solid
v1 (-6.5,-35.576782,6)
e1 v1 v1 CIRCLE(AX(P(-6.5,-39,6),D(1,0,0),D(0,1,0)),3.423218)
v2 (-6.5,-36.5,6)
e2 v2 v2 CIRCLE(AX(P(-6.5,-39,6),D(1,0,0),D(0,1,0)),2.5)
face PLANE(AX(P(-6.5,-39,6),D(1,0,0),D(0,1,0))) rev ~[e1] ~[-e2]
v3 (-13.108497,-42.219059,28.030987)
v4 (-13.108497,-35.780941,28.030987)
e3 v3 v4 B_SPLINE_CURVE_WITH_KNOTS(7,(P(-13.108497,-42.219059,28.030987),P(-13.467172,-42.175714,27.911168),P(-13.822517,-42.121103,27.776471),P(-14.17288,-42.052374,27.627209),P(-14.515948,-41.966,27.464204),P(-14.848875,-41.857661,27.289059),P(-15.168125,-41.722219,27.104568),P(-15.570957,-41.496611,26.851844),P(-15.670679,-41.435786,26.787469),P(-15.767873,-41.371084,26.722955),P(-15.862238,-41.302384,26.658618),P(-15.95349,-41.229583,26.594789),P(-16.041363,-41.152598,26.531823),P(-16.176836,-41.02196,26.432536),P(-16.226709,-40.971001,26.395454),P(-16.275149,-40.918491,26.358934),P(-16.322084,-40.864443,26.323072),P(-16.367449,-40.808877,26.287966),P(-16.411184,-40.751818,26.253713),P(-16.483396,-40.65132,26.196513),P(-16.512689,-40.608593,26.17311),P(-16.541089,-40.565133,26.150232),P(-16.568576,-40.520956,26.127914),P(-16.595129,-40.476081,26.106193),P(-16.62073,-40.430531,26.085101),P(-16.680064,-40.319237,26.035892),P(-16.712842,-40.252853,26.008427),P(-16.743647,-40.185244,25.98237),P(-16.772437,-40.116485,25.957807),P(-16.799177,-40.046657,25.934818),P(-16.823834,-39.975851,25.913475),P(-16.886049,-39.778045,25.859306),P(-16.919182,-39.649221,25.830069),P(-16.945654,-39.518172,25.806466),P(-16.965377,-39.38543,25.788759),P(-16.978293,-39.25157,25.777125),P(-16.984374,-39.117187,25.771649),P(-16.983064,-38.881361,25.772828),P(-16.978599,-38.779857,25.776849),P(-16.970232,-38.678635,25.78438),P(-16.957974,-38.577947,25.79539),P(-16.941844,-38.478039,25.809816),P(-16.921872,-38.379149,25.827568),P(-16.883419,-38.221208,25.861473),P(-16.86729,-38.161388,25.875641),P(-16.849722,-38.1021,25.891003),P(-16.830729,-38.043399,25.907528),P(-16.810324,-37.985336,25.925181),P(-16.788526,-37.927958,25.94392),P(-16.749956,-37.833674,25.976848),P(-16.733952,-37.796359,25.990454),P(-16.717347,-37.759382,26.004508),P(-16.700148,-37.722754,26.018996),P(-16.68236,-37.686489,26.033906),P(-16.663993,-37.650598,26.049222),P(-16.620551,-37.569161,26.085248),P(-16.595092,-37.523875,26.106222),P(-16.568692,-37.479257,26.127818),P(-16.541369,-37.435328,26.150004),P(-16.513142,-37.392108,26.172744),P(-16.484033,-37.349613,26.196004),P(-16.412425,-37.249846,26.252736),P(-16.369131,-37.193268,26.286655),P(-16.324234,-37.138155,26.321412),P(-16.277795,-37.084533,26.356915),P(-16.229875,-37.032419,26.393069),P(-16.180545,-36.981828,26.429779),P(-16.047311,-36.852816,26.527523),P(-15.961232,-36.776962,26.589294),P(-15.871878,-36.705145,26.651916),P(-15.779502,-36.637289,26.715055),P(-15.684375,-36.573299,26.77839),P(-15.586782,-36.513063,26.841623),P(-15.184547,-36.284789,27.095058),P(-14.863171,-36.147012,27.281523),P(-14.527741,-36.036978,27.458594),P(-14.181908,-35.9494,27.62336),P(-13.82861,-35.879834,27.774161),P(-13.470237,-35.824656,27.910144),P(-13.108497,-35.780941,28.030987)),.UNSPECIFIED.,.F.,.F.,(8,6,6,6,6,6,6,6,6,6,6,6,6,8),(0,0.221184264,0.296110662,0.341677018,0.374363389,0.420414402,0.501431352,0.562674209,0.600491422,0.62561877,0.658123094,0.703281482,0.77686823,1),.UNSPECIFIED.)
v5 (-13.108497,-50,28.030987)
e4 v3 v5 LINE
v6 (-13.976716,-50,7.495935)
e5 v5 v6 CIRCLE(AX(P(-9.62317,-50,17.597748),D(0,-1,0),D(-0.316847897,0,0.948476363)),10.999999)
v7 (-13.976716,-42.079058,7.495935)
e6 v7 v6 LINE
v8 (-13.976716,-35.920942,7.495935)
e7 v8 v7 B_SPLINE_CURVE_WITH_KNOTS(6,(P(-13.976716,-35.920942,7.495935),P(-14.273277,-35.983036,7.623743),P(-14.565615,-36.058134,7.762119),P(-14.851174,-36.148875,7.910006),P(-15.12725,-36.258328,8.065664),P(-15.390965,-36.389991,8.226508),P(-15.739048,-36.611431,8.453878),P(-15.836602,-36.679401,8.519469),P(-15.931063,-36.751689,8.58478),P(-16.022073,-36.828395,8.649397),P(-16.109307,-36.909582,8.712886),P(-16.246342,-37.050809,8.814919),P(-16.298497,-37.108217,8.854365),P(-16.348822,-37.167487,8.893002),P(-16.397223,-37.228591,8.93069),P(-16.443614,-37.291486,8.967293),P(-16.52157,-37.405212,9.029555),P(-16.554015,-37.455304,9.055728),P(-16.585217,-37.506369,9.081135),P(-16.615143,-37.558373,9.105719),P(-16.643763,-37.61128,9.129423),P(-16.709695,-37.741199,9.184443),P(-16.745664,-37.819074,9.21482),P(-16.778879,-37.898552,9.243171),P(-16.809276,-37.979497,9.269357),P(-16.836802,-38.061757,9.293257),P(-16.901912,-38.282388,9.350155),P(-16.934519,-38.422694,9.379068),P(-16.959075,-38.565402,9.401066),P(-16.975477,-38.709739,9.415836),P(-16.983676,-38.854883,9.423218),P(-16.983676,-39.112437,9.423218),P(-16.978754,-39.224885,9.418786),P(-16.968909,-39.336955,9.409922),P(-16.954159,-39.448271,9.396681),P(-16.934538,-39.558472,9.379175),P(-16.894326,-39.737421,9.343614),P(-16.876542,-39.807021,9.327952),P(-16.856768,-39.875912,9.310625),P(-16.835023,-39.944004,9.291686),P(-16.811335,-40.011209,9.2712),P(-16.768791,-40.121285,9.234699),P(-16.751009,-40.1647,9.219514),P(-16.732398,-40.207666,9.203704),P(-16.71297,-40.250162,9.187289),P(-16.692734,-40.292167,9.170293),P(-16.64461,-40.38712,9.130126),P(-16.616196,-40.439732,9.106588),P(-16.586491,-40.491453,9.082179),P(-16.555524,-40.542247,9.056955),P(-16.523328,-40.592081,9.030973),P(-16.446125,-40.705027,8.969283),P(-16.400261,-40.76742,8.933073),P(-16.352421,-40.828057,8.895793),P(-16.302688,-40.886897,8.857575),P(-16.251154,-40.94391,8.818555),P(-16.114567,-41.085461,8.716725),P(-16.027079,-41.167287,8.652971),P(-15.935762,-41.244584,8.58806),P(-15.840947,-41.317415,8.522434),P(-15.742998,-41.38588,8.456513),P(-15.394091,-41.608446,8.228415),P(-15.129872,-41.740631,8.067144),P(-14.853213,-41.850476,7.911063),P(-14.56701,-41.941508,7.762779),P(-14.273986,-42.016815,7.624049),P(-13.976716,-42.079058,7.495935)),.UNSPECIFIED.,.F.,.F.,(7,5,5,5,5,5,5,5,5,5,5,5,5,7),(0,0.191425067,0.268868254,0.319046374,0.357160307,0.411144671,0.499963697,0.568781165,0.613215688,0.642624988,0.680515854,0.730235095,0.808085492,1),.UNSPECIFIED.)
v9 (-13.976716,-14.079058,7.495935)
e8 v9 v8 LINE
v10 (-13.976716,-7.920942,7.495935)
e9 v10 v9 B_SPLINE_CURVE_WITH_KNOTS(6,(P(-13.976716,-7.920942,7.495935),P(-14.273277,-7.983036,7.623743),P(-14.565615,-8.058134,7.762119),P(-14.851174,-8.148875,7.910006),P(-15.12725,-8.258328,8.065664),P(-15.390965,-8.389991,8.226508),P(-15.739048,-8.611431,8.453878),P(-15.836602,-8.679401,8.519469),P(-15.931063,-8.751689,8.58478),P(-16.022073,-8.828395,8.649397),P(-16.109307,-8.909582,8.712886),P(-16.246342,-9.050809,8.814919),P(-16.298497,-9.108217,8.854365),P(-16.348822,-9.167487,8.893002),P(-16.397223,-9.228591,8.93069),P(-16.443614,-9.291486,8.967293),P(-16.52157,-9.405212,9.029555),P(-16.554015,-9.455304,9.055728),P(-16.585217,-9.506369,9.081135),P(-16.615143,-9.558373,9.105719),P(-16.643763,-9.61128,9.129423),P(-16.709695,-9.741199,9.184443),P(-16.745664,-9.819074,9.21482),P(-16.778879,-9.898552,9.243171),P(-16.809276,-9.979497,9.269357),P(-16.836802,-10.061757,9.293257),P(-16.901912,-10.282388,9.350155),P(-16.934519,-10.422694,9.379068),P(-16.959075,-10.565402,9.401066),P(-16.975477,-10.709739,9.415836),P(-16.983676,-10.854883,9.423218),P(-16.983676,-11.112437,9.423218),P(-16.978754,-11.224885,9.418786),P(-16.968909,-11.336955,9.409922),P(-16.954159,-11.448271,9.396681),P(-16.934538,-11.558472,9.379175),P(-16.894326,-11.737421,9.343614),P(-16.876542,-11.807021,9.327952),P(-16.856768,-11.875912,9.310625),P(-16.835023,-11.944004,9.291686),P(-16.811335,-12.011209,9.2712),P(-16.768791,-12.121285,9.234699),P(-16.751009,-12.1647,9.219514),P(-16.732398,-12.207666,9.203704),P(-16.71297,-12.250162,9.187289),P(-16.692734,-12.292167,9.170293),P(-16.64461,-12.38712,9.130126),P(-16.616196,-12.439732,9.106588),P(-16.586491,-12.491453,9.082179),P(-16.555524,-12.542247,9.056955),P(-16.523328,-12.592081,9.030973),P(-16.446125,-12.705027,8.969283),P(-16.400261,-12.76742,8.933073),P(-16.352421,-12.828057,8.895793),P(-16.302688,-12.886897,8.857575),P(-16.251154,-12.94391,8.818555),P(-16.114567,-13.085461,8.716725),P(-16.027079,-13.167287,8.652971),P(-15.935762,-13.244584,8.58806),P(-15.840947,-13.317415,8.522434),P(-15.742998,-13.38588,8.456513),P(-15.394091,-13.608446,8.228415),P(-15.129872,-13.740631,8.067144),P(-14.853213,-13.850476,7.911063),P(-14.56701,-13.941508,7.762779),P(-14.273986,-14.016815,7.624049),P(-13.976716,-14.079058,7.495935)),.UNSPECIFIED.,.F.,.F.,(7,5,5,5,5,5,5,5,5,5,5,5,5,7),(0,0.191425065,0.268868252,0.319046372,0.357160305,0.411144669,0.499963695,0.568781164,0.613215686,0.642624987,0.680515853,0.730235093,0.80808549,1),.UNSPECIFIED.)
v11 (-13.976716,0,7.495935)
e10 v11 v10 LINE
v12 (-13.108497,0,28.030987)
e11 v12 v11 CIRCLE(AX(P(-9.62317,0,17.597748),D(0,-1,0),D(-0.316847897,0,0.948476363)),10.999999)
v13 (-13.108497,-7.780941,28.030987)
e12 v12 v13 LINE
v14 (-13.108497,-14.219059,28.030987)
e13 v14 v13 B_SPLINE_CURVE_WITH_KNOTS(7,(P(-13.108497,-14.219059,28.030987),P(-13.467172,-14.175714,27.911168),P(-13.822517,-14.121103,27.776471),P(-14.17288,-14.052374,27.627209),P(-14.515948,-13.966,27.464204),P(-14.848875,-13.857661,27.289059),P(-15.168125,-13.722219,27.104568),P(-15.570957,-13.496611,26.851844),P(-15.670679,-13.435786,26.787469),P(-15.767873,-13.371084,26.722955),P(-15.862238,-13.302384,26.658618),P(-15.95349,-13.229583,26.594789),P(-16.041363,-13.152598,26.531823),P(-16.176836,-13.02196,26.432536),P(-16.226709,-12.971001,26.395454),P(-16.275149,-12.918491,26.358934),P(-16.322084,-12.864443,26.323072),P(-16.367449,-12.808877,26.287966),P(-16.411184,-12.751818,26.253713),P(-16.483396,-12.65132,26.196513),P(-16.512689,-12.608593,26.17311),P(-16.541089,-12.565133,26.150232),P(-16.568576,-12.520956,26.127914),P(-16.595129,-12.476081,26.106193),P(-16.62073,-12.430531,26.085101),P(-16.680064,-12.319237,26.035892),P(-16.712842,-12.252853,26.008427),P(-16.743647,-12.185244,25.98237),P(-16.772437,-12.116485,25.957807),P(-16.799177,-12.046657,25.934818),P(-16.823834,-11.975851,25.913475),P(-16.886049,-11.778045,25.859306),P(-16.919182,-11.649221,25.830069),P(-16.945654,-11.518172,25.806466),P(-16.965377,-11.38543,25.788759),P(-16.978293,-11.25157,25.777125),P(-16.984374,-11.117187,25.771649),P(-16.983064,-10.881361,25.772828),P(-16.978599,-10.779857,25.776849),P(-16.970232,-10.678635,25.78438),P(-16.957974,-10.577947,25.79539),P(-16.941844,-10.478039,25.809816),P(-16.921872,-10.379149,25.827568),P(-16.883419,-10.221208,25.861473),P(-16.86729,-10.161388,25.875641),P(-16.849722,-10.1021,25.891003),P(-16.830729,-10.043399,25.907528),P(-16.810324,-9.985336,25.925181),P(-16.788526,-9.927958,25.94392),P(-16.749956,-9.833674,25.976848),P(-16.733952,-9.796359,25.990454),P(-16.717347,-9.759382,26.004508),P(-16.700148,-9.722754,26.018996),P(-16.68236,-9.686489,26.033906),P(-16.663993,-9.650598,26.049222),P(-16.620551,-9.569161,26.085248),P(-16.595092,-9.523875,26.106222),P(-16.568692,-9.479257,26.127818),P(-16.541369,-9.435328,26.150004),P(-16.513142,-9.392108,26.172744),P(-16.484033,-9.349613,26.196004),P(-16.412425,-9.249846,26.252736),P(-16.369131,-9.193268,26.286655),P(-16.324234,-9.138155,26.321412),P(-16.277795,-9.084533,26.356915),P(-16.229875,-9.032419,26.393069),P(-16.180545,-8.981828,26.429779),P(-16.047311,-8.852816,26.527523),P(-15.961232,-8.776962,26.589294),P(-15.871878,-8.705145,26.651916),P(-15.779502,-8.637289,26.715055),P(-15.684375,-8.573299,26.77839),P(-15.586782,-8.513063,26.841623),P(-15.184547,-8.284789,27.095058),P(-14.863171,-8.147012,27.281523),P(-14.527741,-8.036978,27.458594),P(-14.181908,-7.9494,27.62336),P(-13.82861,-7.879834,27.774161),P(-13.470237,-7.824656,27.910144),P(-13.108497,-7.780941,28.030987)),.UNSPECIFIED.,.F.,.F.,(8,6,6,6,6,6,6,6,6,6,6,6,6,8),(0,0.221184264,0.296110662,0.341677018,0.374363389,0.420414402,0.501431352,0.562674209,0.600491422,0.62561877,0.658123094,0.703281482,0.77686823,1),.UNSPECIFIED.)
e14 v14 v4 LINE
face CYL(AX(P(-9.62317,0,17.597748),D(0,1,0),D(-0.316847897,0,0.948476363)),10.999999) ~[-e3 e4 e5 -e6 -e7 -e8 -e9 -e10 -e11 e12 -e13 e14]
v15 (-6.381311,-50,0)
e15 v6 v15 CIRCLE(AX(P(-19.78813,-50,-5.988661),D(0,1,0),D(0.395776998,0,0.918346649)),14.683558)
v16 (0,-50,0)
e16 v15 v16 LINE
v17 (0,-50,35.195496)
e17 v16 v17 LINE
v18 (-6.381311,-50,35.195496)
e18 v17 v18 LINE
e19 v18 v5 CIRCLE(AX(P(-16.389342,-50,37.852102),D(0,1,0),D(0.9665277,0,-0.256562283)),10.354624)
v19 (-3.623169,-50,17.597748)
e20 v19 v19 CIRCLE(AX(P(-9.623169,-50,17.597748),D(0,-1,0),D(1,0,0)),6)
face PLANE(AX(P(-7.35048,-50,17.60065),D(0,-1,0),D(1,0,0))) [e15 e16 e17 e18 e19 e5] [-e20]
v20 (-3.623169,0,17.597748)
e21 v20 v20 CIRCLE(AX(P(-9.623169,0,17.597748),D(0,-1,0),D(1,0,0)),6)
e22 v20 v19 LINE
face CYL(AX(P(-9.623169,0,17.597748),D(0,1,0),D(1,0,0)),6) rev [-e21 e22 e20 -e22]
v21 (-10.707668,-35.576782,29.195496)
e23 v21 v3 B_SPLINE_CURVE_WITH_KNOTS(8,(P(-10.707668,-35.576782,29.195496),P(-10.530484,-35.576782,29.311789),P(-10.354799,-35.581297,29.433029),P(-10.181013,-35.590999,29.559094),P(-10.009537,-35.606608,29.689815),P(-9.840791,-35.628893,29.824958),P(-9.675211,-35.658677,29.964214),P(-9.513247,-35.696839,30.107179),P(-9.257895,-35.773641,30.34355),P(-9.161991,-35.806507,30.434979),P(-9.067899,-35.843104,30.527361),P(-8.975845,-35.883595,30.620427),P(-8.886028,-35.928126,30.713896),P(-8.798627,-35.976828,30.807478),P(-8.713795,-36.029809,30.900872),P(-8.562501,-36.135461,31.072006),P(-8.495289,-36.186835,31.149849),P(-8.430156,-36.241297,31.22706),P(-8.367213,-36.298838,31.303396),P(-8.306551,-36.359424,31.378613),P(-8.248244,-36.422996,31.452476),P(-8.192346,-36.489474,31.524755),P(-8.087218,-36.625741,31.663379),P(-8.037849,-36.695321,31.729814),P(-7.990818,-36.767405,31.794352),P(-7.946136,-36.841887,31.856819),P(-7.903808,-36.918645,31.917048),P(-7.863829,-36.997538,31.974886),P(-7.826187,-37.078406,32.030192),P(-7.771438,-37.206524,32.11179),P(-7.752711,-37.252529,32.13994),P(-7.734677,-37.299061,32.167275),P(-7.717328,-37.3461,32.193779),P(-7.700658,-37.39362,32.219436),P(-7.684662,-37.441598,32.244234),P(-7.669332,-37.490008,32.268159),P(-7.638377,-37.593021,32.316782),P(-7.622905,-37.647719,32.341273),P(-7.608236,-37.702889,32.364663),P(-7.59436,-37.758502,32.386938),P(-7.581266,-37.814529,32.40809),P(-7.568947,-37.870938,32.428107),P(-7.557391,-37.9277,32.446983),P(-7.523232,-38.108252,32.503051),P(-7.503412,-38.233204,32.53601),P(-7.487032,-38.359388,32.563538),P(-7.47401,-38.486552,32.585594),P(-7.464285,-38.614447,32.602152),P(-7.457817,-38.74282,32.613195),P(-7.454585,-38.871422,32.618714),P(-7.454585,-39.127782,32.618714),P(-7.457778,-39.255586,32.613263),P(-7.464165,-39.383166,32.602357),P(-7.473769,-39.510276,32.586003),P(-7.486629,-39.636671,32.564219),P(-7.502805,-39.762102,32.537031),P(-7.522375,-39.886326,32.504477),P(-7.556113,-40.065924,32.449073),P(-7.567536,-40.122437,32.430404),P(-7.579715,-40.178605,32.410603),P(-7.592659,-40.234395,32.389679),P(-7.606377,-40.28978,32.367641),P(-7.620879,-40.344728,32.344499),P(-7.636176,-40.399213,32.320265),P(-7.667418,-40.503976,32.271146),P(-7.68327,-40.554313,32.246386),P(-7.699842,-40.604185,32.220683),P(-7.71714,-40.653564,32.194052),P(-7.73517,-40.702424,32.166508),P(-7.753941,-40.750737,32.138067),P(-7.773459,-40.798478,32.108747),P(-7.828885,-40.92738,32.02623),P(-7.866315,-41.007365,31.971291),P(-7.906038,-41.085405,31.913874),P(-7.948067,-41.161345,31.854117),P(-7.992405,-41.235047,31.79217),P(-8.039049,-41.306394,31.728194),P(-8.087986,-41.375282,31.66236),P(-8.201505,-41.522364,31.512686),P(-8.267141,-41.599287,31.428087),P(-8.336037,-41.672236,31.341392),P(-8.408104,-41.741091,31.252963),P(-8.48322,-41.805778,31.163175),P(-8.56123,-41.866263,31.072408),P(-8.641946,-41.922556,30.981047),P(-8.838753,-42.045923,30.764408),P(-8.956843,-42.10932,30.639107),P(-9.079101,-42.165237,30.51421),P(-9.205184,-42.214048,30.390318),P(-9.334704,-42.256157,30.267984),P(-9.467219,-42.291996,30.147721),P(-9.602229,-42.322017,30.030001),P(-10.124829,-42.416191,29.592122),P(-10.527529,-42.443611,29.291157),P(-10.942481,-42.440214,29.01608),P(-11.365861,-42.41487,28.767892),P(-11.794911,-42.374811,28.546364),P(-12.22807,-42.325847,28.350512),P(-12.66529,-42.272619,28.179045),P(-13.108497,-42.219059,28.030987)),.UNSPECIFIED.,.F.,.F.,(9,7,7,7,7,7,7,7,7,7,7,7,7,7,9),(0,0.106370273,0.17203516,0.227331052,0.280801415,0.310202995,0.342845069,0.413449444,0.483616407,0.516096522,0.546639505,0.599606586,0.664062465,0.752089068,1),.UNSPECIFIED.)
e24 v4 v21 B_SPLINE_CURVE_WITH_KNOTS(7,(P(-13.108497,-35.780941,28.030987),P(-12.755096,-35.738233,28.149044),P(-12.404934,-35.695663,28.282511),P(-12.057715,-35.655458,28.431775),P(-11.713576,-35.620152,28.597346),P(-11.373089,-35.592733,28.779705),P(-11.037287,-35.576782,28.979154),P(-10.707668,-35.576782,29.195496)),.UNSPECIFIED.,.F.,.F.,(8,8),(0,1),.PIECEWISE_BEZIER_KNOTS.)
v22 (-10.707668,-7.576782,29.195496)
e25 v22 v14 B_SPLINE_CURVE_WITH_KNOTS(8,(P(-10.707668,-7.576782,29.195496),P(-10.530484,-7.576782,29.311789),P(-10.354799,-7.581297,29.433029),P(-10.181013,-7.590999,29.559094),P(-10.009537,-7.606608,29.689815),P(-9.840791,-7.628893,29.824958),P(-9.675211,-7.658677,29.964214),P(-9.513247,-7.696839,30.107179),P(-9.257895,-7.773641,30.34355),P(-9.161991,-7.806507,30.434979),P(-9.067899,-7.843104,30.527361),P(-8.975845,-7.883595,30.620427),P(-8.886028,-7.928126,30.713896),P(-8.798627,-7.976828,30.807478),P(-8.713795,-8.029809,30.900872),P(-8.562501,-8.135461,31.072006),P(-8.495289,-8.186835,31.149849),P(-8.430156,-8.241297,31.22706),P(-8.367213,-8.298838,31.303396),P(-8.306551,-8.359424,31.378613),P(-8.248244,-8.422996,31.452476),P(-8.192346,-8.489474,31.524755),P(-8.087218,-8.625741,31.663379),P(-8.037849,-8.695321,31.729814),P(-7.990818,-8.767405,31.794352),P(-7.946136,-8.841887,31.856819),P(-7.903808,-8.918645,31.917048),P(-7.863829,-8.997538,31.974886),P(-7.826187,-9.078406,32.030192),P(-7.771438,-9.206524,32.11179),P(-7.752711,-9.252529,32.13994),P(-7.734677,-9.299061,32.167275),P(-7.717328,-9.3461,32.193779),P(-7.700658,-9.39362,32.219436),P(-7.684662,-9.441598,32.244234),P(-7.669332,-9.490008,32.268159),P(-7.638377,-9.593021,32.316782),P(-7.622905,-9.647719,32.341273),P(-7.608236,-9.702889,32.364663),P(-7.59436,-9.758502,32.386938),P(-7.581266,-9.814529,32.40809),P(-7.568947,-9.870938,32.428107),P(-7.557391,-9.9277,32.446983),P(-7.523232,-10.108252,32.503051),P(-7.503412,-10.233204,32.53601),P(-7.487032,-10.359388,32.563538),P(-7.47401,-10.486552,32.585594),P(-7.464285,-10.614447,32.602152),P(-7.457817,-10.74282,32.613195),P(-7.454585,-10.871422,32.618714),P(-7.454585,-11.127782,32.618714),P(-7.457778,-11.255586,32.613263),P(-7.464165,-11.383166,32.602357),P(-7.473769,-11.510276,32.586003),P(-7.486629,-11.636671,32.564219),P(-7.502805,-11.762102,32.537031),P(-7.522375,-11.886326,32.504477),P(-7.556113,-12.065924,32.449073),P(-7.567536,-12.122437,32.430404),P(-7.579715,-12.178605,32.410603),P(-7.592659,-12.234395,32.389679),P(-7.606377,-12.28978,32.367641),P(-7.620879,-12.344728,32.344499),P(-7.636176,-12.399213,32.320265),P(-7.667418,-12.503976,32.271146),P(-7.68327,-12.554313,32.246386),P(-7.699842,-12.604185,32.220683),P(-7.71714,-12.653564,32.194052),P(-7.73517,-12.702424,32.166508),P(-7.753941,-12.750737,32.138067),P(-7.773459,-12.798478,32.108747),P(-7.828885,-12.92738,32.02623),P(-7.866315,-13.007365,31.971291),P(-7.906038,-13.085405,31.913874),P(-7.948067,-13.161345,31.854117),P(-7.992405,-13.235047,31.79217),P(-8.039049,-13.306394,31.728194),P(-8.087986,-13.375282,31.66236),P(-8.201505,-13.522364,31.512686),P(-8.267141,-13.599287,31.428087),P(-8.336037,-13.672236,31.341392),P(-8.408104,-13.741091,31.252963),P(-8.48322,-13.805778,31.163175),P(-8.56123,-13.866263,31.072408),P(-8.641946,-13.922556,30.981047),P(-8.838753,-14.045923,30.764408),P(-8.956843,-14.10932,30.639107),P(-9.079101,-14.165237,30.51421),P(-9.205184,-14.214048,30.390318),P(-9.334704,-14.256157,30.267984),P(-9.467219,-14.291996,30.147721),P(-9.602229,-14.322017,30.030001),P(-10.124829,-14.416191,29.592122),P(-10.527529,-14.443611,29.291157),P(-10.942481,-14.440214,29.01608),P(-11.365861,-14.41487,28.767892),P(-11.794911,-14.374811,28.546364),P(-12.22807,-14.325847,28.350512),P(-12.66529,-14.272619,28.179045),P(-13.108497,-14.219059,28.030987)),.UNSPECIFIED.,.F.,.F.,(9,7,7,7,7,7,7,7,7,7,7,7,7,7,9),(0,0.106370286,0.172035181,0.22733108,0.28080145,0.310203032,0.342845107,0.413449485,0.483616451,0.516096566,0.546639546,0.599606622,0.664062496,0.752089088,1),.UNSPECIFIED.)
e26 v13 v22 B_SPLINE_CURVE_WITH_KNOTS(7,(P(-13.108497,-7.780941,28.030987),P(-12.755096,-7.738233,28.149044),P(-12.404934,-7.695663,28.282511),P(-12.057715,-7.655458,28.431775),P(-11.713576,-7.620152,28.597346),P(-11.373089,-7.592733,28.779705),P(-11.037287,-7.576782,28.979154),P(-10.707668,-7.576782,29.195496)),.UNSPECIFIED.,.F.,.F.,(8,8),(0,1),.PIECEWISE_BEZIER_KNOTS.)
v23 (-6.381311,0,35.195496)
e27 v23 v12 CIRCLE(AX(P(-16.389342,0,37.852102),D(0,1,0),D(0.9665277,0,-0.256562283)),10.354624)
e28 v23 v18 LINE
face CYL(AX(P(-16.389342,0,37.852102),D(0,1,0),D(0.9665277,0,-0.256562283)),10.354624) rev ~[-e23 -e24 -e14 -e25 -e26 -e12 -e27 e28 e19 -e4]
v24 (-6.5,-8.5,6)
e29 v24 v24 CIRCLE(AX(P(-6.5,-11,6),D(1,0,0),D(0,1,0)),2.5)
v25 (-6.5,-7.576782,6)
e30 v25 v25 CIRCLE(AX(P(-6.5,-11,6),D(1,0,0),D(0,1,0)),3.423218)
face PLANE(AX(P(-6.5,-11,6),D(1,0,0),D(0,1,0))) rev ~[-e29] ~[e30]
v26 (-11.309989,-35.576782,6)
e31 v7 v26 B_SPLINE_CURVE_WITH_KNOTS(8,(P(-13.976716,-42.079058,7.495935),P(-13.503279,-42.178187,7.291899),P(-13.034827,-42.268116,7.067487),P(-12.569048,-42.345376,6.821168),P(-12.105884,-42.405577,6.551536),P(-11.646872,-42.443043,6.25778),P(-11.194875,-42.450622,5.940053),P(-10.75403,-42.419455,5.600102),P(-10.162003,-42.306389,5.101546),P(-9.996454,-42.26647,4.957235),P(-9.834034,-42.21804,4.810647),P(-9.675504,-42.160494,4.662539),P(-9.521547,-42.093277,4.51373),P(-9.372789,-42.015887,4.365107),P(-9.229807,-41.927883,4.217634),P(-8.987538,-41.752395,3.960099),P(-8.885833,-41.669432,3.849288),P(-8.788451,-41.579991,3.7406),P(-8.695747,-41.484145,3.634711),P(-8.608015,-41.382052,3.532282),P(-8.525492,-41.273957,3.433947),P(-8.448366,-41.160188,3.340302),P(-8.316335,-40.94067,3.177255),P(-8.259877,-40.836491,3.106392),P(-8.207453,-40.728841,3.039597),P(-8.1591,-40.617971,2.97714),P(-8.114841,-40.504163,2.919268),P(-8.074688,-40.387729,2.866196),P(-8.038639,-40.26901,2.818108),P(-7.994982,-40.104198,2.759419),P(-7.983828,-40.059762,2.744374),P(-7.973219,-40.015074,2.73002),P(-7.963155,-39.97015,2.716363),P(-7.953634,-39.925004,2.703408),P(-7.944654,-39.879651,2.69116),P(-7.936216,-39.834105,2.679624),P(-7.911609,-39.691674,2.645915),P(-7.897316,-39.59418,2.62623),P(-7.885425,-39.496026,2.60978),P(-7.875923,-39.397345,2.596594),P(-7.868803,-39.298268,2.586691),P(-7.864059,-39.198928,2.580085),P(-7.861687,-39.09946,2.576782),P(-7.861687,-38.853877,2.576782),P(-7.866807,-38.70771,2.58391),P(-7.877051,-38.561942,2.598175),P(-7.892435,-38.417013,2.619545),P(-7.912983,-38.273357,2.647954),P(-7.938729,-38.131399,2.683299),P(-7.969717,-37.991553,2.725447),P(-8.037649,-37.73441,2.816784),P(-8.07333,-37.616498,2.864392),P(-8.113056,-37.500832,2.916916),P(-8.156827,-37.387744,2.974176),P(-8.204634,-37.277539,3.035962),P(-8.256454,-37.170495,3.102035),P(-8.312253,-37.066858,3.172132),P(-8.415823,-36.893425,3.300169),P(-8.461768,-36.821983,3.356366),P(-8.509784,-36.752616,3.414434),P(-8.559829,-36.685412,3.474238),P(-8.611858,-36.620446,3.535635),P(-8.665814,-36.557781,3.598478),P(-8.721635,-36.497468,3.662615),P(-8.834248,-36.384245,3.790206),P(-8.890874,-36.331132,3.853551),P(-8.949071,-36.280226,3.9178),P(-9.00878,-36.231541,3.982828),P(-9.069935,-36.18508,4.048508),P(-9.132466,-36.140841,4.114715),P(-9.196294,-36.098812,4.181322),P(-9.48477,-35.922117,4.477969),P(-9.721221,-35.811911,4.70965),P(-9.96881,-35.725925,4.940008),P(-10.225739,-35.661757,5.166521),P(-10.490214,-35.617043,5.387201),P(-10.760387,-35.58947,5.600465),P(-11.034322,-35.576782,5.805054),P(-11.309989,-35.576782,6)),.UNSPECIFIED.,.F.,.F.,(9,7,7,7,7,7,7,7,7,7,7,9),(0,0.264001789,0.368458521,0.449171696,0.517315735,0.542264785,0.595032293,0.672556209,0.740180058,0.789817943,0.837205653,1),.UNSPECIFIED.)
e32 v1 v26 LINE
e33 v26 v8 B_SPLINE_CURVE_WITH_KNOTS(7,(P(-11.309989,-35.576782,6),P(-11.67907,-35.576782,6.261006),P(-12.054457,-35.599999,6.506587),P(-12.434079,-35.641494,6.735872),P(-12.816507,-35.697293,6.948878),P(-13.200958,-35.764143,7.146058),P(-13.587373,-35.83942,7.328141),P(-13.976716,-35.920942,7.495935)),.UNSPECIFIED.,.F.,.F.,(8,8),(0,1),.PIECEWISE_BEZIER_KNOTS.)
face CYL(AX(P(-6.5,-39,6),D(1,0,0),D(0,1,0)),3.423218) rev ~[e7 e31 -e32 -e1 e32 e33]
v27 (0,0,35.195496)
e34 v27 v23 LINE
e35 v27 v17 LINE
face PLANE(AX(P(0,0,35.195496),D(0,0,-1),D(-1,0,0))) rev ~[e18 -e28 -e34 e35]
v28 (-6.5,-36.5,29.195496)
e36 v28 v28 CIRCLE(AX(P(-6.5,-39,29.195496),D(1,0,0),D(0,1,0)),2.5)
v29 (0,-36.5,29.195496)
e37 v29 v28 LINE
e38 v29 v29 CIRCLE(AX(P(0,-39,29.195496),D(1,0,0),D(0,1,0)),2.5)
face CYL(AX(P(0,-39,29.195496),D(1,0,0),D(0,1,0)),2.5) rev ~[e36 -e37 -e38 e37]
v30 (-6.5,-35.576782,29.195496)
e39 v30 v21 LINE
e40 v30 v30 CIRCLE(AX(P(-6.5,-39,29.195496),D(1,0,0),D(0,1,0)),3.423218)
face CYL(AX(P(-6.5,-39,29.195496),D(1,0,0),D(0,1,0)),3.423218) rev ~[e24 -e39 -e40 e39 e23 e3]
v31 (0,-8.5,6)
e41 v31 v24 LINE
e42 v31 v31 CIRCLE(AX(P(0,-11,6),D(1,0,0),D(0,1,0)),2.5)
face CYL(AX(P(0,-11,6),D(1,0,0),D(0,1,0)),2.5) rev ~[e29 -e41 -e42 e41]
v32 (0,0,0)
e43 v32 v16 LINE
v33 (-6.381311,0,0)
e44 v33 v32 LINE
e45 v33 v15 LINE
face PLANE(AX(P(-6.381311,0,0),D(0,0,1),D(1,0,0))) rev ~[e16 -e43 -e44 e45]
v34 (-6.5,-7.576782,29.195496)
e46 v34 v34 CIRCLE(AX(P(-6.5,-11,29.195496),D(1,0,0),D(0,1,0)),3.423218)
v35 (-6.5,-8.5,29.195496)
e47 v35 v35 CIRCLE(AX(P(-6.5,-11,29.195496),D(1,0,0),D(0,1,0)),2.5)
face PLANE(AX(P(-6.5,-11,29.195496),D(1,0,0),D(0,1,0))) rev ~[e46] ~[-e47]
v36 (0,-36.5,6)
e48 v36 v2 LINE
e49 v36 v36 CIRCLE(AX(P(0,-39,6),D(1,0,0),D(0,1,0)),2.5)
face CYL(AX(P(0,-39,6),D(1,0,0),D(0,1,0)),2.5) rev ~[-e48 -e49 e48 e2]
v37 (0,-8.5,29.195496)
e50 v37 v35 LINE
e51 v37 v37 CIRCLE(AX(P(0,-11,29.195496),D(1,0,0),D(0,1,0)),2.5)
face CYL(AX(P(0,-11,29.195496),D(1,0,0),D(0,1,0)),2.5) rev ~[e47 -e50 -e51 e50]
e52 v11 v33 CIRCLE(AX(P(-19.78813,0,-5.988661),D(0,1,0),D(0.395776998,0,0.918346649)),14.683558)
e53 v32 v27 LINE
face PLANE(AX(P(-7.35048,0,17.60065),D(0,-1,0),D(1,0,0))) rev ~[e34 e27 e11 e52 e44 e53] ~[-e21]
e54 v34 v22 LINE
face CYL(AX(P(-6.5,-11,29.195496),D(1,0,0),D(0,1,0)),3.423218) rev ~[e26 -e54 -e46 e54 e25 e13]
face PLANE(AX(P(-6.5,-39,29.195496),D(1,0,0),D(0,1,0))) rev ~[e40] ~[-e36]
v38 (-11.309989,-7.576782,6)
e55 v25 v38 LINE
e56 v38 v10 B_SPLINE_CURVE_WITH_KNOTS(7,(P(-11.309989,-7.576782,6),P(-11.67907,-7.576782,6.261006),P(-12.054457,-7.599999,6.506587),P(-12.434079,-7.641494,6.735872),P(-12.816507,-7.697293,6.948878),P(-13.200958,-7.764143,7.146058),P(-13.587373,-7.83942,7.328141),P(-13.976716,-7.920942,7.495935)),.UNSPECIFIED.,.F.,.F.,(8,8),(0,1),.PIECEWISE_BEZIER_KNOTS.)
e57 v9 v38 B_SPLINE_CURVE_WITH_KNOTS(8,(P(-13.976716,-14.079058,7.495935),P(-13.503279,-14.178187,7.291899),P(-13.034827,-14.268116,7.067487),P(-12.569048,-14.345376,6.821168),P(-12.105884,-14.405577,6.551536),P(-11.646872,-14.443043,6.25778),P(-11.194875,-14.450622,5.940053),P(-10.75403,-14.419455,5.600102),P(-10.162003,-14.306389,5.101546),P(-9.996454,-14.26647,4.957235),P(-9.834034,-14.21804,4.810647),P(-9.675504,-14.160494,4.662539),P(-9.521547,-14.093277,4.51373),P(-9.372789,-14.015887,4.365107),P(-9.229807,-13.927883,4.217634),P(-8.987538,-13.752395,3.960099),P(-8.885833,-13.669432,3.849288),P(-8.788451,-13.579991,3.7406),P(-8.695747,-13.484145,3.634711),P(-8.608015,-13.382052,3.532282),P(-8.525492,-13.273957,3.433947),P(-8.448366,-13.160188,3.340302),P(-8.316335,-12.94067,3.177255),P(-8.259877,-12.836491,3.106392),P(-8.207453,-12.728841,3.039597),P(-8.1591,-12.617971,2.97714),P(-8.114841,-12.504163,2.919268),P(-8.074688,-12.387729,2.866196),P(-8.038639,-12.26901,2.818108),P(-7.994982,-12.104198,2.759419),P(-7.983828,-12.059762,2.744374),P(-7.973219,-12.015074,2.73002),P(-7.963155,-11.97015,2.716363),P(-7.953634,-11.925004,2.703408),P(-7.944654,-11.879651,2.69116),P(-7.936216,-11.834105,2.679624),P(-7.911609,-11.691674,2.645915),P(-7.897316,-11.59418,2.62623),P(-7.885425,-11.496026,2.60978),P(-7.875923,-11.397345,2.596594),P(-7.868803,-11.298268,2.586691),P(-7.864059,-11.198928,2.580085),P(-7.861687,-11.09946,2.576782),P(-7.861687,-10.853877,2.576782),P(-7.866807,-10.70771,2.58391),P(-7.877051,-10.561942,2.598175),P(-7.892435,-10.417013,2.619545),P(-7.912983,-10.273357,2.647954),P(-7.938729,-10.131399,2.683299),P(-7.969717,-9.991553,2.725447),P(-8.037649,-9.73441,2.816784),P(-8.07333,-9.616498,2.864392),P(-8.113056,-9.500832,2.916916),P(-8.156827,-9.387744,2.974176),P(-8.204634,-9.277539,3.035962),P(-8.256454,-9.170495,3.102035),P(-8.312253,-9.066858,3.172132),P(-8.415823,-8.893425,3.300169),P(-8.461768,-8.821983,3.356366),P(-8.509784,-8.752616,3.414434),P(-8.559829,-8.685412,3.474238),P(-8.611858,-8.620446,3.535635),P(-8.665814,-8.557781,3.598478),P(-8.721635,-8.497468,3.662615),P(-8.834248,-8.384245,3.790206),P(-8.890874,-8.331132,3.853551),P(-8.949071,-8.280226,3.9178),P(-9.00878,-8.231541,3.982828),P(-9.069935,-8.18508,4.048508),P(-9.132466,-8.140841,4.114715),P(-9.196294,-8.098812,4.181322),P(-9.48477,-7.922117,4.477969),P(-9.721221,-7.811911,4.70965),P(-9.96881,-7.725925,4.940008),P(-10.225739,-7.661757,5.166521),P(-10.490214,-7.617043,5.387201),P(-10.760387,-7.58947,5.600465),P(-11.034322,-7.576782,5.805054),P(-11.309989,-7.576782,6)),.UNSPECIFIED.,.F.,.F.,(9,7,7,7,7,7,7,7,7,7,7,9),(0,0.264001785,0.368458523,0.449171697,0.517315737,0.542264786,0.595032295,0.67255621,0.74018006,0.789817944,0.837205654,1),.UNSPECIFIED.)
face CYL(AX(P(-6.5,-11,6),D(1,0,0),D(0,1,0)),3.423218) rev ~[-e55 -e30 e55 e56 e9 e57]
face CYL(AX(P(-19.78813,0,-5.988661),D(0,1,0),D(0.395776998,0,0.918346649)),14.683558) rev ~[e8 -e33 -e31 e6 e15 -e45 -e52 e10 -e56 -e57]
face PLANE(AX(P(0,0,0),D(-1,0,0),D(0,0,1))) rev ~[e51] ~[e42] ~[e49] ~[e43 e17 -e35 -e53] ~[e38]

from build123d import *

# Parameters (mm, degrees)
F0_R     = 6
F1_DEPTH = 50
F2_R     = 2.5
F3_DEPTH = 25
F5_R     = 3.423218
F6_DEPTH = 25


with BuildPart() as f1:
    # F0 (on Front) → F1 (new body)
    with BuildSketch(Plane.XZ):
        with BuildLine():
            Line((0, 0), (0, 35.195496))
            Line((0, 35.195496), (-6.381311, 35.195496))
            ThreePointArc((-6.381311, 35.195496), (-8.840759, 30.764286), (-13.108497, 28.030987))
            ThreePointArc((-13.108497, 28.030987), (-20.613351, 18.062411), (-13.976716, 7.495935))
            ThreePointArc((-13.976716, 7.495935), (-9.473946, 4.46239), (-6.381311, 0))
            Line((-6.381311, 0), (0, 0))
        make_face()
        with Locations((-9.623169, 17.597748)):
            Circle(F0_R, mode=Mode.SUBTRACT)
    extrude(amount=F1_DEPTH)

    # F2 (on face) → F3 (cut)
    with BuildSketch(Plane.YZ):
        with Locations((-39, 29.195496)):
            Circle(F2_R)
        with Locations((-11, 29.195496)):
            Circle(F2_R)
        with Locations((-39, 6)):
            Circle(F2_R)
        with Locations((-11, 6)):
            Circle(F2_R)
    extrude(amount=-F3_DEPTH, mode=Mode.SUBTRACT)

    # F5 (on offset) → F6 (cut)
    with BuildSketch(Plane.YZ.offset(-6.5)):
        with Locations((-11, 6)):
            Circle(F5_R)
        with Locations((-39, 6)):
            Circle(F5_R)
        with Locations((-11, 29.195496)):
            Circle(F5_R)
        with Locations((-39, 29.195496)):
            Circle(F5_R)
    extrude(amount=-F6_DEPTH, mode=Mode.SUBTRACT)


solid = f1.part
